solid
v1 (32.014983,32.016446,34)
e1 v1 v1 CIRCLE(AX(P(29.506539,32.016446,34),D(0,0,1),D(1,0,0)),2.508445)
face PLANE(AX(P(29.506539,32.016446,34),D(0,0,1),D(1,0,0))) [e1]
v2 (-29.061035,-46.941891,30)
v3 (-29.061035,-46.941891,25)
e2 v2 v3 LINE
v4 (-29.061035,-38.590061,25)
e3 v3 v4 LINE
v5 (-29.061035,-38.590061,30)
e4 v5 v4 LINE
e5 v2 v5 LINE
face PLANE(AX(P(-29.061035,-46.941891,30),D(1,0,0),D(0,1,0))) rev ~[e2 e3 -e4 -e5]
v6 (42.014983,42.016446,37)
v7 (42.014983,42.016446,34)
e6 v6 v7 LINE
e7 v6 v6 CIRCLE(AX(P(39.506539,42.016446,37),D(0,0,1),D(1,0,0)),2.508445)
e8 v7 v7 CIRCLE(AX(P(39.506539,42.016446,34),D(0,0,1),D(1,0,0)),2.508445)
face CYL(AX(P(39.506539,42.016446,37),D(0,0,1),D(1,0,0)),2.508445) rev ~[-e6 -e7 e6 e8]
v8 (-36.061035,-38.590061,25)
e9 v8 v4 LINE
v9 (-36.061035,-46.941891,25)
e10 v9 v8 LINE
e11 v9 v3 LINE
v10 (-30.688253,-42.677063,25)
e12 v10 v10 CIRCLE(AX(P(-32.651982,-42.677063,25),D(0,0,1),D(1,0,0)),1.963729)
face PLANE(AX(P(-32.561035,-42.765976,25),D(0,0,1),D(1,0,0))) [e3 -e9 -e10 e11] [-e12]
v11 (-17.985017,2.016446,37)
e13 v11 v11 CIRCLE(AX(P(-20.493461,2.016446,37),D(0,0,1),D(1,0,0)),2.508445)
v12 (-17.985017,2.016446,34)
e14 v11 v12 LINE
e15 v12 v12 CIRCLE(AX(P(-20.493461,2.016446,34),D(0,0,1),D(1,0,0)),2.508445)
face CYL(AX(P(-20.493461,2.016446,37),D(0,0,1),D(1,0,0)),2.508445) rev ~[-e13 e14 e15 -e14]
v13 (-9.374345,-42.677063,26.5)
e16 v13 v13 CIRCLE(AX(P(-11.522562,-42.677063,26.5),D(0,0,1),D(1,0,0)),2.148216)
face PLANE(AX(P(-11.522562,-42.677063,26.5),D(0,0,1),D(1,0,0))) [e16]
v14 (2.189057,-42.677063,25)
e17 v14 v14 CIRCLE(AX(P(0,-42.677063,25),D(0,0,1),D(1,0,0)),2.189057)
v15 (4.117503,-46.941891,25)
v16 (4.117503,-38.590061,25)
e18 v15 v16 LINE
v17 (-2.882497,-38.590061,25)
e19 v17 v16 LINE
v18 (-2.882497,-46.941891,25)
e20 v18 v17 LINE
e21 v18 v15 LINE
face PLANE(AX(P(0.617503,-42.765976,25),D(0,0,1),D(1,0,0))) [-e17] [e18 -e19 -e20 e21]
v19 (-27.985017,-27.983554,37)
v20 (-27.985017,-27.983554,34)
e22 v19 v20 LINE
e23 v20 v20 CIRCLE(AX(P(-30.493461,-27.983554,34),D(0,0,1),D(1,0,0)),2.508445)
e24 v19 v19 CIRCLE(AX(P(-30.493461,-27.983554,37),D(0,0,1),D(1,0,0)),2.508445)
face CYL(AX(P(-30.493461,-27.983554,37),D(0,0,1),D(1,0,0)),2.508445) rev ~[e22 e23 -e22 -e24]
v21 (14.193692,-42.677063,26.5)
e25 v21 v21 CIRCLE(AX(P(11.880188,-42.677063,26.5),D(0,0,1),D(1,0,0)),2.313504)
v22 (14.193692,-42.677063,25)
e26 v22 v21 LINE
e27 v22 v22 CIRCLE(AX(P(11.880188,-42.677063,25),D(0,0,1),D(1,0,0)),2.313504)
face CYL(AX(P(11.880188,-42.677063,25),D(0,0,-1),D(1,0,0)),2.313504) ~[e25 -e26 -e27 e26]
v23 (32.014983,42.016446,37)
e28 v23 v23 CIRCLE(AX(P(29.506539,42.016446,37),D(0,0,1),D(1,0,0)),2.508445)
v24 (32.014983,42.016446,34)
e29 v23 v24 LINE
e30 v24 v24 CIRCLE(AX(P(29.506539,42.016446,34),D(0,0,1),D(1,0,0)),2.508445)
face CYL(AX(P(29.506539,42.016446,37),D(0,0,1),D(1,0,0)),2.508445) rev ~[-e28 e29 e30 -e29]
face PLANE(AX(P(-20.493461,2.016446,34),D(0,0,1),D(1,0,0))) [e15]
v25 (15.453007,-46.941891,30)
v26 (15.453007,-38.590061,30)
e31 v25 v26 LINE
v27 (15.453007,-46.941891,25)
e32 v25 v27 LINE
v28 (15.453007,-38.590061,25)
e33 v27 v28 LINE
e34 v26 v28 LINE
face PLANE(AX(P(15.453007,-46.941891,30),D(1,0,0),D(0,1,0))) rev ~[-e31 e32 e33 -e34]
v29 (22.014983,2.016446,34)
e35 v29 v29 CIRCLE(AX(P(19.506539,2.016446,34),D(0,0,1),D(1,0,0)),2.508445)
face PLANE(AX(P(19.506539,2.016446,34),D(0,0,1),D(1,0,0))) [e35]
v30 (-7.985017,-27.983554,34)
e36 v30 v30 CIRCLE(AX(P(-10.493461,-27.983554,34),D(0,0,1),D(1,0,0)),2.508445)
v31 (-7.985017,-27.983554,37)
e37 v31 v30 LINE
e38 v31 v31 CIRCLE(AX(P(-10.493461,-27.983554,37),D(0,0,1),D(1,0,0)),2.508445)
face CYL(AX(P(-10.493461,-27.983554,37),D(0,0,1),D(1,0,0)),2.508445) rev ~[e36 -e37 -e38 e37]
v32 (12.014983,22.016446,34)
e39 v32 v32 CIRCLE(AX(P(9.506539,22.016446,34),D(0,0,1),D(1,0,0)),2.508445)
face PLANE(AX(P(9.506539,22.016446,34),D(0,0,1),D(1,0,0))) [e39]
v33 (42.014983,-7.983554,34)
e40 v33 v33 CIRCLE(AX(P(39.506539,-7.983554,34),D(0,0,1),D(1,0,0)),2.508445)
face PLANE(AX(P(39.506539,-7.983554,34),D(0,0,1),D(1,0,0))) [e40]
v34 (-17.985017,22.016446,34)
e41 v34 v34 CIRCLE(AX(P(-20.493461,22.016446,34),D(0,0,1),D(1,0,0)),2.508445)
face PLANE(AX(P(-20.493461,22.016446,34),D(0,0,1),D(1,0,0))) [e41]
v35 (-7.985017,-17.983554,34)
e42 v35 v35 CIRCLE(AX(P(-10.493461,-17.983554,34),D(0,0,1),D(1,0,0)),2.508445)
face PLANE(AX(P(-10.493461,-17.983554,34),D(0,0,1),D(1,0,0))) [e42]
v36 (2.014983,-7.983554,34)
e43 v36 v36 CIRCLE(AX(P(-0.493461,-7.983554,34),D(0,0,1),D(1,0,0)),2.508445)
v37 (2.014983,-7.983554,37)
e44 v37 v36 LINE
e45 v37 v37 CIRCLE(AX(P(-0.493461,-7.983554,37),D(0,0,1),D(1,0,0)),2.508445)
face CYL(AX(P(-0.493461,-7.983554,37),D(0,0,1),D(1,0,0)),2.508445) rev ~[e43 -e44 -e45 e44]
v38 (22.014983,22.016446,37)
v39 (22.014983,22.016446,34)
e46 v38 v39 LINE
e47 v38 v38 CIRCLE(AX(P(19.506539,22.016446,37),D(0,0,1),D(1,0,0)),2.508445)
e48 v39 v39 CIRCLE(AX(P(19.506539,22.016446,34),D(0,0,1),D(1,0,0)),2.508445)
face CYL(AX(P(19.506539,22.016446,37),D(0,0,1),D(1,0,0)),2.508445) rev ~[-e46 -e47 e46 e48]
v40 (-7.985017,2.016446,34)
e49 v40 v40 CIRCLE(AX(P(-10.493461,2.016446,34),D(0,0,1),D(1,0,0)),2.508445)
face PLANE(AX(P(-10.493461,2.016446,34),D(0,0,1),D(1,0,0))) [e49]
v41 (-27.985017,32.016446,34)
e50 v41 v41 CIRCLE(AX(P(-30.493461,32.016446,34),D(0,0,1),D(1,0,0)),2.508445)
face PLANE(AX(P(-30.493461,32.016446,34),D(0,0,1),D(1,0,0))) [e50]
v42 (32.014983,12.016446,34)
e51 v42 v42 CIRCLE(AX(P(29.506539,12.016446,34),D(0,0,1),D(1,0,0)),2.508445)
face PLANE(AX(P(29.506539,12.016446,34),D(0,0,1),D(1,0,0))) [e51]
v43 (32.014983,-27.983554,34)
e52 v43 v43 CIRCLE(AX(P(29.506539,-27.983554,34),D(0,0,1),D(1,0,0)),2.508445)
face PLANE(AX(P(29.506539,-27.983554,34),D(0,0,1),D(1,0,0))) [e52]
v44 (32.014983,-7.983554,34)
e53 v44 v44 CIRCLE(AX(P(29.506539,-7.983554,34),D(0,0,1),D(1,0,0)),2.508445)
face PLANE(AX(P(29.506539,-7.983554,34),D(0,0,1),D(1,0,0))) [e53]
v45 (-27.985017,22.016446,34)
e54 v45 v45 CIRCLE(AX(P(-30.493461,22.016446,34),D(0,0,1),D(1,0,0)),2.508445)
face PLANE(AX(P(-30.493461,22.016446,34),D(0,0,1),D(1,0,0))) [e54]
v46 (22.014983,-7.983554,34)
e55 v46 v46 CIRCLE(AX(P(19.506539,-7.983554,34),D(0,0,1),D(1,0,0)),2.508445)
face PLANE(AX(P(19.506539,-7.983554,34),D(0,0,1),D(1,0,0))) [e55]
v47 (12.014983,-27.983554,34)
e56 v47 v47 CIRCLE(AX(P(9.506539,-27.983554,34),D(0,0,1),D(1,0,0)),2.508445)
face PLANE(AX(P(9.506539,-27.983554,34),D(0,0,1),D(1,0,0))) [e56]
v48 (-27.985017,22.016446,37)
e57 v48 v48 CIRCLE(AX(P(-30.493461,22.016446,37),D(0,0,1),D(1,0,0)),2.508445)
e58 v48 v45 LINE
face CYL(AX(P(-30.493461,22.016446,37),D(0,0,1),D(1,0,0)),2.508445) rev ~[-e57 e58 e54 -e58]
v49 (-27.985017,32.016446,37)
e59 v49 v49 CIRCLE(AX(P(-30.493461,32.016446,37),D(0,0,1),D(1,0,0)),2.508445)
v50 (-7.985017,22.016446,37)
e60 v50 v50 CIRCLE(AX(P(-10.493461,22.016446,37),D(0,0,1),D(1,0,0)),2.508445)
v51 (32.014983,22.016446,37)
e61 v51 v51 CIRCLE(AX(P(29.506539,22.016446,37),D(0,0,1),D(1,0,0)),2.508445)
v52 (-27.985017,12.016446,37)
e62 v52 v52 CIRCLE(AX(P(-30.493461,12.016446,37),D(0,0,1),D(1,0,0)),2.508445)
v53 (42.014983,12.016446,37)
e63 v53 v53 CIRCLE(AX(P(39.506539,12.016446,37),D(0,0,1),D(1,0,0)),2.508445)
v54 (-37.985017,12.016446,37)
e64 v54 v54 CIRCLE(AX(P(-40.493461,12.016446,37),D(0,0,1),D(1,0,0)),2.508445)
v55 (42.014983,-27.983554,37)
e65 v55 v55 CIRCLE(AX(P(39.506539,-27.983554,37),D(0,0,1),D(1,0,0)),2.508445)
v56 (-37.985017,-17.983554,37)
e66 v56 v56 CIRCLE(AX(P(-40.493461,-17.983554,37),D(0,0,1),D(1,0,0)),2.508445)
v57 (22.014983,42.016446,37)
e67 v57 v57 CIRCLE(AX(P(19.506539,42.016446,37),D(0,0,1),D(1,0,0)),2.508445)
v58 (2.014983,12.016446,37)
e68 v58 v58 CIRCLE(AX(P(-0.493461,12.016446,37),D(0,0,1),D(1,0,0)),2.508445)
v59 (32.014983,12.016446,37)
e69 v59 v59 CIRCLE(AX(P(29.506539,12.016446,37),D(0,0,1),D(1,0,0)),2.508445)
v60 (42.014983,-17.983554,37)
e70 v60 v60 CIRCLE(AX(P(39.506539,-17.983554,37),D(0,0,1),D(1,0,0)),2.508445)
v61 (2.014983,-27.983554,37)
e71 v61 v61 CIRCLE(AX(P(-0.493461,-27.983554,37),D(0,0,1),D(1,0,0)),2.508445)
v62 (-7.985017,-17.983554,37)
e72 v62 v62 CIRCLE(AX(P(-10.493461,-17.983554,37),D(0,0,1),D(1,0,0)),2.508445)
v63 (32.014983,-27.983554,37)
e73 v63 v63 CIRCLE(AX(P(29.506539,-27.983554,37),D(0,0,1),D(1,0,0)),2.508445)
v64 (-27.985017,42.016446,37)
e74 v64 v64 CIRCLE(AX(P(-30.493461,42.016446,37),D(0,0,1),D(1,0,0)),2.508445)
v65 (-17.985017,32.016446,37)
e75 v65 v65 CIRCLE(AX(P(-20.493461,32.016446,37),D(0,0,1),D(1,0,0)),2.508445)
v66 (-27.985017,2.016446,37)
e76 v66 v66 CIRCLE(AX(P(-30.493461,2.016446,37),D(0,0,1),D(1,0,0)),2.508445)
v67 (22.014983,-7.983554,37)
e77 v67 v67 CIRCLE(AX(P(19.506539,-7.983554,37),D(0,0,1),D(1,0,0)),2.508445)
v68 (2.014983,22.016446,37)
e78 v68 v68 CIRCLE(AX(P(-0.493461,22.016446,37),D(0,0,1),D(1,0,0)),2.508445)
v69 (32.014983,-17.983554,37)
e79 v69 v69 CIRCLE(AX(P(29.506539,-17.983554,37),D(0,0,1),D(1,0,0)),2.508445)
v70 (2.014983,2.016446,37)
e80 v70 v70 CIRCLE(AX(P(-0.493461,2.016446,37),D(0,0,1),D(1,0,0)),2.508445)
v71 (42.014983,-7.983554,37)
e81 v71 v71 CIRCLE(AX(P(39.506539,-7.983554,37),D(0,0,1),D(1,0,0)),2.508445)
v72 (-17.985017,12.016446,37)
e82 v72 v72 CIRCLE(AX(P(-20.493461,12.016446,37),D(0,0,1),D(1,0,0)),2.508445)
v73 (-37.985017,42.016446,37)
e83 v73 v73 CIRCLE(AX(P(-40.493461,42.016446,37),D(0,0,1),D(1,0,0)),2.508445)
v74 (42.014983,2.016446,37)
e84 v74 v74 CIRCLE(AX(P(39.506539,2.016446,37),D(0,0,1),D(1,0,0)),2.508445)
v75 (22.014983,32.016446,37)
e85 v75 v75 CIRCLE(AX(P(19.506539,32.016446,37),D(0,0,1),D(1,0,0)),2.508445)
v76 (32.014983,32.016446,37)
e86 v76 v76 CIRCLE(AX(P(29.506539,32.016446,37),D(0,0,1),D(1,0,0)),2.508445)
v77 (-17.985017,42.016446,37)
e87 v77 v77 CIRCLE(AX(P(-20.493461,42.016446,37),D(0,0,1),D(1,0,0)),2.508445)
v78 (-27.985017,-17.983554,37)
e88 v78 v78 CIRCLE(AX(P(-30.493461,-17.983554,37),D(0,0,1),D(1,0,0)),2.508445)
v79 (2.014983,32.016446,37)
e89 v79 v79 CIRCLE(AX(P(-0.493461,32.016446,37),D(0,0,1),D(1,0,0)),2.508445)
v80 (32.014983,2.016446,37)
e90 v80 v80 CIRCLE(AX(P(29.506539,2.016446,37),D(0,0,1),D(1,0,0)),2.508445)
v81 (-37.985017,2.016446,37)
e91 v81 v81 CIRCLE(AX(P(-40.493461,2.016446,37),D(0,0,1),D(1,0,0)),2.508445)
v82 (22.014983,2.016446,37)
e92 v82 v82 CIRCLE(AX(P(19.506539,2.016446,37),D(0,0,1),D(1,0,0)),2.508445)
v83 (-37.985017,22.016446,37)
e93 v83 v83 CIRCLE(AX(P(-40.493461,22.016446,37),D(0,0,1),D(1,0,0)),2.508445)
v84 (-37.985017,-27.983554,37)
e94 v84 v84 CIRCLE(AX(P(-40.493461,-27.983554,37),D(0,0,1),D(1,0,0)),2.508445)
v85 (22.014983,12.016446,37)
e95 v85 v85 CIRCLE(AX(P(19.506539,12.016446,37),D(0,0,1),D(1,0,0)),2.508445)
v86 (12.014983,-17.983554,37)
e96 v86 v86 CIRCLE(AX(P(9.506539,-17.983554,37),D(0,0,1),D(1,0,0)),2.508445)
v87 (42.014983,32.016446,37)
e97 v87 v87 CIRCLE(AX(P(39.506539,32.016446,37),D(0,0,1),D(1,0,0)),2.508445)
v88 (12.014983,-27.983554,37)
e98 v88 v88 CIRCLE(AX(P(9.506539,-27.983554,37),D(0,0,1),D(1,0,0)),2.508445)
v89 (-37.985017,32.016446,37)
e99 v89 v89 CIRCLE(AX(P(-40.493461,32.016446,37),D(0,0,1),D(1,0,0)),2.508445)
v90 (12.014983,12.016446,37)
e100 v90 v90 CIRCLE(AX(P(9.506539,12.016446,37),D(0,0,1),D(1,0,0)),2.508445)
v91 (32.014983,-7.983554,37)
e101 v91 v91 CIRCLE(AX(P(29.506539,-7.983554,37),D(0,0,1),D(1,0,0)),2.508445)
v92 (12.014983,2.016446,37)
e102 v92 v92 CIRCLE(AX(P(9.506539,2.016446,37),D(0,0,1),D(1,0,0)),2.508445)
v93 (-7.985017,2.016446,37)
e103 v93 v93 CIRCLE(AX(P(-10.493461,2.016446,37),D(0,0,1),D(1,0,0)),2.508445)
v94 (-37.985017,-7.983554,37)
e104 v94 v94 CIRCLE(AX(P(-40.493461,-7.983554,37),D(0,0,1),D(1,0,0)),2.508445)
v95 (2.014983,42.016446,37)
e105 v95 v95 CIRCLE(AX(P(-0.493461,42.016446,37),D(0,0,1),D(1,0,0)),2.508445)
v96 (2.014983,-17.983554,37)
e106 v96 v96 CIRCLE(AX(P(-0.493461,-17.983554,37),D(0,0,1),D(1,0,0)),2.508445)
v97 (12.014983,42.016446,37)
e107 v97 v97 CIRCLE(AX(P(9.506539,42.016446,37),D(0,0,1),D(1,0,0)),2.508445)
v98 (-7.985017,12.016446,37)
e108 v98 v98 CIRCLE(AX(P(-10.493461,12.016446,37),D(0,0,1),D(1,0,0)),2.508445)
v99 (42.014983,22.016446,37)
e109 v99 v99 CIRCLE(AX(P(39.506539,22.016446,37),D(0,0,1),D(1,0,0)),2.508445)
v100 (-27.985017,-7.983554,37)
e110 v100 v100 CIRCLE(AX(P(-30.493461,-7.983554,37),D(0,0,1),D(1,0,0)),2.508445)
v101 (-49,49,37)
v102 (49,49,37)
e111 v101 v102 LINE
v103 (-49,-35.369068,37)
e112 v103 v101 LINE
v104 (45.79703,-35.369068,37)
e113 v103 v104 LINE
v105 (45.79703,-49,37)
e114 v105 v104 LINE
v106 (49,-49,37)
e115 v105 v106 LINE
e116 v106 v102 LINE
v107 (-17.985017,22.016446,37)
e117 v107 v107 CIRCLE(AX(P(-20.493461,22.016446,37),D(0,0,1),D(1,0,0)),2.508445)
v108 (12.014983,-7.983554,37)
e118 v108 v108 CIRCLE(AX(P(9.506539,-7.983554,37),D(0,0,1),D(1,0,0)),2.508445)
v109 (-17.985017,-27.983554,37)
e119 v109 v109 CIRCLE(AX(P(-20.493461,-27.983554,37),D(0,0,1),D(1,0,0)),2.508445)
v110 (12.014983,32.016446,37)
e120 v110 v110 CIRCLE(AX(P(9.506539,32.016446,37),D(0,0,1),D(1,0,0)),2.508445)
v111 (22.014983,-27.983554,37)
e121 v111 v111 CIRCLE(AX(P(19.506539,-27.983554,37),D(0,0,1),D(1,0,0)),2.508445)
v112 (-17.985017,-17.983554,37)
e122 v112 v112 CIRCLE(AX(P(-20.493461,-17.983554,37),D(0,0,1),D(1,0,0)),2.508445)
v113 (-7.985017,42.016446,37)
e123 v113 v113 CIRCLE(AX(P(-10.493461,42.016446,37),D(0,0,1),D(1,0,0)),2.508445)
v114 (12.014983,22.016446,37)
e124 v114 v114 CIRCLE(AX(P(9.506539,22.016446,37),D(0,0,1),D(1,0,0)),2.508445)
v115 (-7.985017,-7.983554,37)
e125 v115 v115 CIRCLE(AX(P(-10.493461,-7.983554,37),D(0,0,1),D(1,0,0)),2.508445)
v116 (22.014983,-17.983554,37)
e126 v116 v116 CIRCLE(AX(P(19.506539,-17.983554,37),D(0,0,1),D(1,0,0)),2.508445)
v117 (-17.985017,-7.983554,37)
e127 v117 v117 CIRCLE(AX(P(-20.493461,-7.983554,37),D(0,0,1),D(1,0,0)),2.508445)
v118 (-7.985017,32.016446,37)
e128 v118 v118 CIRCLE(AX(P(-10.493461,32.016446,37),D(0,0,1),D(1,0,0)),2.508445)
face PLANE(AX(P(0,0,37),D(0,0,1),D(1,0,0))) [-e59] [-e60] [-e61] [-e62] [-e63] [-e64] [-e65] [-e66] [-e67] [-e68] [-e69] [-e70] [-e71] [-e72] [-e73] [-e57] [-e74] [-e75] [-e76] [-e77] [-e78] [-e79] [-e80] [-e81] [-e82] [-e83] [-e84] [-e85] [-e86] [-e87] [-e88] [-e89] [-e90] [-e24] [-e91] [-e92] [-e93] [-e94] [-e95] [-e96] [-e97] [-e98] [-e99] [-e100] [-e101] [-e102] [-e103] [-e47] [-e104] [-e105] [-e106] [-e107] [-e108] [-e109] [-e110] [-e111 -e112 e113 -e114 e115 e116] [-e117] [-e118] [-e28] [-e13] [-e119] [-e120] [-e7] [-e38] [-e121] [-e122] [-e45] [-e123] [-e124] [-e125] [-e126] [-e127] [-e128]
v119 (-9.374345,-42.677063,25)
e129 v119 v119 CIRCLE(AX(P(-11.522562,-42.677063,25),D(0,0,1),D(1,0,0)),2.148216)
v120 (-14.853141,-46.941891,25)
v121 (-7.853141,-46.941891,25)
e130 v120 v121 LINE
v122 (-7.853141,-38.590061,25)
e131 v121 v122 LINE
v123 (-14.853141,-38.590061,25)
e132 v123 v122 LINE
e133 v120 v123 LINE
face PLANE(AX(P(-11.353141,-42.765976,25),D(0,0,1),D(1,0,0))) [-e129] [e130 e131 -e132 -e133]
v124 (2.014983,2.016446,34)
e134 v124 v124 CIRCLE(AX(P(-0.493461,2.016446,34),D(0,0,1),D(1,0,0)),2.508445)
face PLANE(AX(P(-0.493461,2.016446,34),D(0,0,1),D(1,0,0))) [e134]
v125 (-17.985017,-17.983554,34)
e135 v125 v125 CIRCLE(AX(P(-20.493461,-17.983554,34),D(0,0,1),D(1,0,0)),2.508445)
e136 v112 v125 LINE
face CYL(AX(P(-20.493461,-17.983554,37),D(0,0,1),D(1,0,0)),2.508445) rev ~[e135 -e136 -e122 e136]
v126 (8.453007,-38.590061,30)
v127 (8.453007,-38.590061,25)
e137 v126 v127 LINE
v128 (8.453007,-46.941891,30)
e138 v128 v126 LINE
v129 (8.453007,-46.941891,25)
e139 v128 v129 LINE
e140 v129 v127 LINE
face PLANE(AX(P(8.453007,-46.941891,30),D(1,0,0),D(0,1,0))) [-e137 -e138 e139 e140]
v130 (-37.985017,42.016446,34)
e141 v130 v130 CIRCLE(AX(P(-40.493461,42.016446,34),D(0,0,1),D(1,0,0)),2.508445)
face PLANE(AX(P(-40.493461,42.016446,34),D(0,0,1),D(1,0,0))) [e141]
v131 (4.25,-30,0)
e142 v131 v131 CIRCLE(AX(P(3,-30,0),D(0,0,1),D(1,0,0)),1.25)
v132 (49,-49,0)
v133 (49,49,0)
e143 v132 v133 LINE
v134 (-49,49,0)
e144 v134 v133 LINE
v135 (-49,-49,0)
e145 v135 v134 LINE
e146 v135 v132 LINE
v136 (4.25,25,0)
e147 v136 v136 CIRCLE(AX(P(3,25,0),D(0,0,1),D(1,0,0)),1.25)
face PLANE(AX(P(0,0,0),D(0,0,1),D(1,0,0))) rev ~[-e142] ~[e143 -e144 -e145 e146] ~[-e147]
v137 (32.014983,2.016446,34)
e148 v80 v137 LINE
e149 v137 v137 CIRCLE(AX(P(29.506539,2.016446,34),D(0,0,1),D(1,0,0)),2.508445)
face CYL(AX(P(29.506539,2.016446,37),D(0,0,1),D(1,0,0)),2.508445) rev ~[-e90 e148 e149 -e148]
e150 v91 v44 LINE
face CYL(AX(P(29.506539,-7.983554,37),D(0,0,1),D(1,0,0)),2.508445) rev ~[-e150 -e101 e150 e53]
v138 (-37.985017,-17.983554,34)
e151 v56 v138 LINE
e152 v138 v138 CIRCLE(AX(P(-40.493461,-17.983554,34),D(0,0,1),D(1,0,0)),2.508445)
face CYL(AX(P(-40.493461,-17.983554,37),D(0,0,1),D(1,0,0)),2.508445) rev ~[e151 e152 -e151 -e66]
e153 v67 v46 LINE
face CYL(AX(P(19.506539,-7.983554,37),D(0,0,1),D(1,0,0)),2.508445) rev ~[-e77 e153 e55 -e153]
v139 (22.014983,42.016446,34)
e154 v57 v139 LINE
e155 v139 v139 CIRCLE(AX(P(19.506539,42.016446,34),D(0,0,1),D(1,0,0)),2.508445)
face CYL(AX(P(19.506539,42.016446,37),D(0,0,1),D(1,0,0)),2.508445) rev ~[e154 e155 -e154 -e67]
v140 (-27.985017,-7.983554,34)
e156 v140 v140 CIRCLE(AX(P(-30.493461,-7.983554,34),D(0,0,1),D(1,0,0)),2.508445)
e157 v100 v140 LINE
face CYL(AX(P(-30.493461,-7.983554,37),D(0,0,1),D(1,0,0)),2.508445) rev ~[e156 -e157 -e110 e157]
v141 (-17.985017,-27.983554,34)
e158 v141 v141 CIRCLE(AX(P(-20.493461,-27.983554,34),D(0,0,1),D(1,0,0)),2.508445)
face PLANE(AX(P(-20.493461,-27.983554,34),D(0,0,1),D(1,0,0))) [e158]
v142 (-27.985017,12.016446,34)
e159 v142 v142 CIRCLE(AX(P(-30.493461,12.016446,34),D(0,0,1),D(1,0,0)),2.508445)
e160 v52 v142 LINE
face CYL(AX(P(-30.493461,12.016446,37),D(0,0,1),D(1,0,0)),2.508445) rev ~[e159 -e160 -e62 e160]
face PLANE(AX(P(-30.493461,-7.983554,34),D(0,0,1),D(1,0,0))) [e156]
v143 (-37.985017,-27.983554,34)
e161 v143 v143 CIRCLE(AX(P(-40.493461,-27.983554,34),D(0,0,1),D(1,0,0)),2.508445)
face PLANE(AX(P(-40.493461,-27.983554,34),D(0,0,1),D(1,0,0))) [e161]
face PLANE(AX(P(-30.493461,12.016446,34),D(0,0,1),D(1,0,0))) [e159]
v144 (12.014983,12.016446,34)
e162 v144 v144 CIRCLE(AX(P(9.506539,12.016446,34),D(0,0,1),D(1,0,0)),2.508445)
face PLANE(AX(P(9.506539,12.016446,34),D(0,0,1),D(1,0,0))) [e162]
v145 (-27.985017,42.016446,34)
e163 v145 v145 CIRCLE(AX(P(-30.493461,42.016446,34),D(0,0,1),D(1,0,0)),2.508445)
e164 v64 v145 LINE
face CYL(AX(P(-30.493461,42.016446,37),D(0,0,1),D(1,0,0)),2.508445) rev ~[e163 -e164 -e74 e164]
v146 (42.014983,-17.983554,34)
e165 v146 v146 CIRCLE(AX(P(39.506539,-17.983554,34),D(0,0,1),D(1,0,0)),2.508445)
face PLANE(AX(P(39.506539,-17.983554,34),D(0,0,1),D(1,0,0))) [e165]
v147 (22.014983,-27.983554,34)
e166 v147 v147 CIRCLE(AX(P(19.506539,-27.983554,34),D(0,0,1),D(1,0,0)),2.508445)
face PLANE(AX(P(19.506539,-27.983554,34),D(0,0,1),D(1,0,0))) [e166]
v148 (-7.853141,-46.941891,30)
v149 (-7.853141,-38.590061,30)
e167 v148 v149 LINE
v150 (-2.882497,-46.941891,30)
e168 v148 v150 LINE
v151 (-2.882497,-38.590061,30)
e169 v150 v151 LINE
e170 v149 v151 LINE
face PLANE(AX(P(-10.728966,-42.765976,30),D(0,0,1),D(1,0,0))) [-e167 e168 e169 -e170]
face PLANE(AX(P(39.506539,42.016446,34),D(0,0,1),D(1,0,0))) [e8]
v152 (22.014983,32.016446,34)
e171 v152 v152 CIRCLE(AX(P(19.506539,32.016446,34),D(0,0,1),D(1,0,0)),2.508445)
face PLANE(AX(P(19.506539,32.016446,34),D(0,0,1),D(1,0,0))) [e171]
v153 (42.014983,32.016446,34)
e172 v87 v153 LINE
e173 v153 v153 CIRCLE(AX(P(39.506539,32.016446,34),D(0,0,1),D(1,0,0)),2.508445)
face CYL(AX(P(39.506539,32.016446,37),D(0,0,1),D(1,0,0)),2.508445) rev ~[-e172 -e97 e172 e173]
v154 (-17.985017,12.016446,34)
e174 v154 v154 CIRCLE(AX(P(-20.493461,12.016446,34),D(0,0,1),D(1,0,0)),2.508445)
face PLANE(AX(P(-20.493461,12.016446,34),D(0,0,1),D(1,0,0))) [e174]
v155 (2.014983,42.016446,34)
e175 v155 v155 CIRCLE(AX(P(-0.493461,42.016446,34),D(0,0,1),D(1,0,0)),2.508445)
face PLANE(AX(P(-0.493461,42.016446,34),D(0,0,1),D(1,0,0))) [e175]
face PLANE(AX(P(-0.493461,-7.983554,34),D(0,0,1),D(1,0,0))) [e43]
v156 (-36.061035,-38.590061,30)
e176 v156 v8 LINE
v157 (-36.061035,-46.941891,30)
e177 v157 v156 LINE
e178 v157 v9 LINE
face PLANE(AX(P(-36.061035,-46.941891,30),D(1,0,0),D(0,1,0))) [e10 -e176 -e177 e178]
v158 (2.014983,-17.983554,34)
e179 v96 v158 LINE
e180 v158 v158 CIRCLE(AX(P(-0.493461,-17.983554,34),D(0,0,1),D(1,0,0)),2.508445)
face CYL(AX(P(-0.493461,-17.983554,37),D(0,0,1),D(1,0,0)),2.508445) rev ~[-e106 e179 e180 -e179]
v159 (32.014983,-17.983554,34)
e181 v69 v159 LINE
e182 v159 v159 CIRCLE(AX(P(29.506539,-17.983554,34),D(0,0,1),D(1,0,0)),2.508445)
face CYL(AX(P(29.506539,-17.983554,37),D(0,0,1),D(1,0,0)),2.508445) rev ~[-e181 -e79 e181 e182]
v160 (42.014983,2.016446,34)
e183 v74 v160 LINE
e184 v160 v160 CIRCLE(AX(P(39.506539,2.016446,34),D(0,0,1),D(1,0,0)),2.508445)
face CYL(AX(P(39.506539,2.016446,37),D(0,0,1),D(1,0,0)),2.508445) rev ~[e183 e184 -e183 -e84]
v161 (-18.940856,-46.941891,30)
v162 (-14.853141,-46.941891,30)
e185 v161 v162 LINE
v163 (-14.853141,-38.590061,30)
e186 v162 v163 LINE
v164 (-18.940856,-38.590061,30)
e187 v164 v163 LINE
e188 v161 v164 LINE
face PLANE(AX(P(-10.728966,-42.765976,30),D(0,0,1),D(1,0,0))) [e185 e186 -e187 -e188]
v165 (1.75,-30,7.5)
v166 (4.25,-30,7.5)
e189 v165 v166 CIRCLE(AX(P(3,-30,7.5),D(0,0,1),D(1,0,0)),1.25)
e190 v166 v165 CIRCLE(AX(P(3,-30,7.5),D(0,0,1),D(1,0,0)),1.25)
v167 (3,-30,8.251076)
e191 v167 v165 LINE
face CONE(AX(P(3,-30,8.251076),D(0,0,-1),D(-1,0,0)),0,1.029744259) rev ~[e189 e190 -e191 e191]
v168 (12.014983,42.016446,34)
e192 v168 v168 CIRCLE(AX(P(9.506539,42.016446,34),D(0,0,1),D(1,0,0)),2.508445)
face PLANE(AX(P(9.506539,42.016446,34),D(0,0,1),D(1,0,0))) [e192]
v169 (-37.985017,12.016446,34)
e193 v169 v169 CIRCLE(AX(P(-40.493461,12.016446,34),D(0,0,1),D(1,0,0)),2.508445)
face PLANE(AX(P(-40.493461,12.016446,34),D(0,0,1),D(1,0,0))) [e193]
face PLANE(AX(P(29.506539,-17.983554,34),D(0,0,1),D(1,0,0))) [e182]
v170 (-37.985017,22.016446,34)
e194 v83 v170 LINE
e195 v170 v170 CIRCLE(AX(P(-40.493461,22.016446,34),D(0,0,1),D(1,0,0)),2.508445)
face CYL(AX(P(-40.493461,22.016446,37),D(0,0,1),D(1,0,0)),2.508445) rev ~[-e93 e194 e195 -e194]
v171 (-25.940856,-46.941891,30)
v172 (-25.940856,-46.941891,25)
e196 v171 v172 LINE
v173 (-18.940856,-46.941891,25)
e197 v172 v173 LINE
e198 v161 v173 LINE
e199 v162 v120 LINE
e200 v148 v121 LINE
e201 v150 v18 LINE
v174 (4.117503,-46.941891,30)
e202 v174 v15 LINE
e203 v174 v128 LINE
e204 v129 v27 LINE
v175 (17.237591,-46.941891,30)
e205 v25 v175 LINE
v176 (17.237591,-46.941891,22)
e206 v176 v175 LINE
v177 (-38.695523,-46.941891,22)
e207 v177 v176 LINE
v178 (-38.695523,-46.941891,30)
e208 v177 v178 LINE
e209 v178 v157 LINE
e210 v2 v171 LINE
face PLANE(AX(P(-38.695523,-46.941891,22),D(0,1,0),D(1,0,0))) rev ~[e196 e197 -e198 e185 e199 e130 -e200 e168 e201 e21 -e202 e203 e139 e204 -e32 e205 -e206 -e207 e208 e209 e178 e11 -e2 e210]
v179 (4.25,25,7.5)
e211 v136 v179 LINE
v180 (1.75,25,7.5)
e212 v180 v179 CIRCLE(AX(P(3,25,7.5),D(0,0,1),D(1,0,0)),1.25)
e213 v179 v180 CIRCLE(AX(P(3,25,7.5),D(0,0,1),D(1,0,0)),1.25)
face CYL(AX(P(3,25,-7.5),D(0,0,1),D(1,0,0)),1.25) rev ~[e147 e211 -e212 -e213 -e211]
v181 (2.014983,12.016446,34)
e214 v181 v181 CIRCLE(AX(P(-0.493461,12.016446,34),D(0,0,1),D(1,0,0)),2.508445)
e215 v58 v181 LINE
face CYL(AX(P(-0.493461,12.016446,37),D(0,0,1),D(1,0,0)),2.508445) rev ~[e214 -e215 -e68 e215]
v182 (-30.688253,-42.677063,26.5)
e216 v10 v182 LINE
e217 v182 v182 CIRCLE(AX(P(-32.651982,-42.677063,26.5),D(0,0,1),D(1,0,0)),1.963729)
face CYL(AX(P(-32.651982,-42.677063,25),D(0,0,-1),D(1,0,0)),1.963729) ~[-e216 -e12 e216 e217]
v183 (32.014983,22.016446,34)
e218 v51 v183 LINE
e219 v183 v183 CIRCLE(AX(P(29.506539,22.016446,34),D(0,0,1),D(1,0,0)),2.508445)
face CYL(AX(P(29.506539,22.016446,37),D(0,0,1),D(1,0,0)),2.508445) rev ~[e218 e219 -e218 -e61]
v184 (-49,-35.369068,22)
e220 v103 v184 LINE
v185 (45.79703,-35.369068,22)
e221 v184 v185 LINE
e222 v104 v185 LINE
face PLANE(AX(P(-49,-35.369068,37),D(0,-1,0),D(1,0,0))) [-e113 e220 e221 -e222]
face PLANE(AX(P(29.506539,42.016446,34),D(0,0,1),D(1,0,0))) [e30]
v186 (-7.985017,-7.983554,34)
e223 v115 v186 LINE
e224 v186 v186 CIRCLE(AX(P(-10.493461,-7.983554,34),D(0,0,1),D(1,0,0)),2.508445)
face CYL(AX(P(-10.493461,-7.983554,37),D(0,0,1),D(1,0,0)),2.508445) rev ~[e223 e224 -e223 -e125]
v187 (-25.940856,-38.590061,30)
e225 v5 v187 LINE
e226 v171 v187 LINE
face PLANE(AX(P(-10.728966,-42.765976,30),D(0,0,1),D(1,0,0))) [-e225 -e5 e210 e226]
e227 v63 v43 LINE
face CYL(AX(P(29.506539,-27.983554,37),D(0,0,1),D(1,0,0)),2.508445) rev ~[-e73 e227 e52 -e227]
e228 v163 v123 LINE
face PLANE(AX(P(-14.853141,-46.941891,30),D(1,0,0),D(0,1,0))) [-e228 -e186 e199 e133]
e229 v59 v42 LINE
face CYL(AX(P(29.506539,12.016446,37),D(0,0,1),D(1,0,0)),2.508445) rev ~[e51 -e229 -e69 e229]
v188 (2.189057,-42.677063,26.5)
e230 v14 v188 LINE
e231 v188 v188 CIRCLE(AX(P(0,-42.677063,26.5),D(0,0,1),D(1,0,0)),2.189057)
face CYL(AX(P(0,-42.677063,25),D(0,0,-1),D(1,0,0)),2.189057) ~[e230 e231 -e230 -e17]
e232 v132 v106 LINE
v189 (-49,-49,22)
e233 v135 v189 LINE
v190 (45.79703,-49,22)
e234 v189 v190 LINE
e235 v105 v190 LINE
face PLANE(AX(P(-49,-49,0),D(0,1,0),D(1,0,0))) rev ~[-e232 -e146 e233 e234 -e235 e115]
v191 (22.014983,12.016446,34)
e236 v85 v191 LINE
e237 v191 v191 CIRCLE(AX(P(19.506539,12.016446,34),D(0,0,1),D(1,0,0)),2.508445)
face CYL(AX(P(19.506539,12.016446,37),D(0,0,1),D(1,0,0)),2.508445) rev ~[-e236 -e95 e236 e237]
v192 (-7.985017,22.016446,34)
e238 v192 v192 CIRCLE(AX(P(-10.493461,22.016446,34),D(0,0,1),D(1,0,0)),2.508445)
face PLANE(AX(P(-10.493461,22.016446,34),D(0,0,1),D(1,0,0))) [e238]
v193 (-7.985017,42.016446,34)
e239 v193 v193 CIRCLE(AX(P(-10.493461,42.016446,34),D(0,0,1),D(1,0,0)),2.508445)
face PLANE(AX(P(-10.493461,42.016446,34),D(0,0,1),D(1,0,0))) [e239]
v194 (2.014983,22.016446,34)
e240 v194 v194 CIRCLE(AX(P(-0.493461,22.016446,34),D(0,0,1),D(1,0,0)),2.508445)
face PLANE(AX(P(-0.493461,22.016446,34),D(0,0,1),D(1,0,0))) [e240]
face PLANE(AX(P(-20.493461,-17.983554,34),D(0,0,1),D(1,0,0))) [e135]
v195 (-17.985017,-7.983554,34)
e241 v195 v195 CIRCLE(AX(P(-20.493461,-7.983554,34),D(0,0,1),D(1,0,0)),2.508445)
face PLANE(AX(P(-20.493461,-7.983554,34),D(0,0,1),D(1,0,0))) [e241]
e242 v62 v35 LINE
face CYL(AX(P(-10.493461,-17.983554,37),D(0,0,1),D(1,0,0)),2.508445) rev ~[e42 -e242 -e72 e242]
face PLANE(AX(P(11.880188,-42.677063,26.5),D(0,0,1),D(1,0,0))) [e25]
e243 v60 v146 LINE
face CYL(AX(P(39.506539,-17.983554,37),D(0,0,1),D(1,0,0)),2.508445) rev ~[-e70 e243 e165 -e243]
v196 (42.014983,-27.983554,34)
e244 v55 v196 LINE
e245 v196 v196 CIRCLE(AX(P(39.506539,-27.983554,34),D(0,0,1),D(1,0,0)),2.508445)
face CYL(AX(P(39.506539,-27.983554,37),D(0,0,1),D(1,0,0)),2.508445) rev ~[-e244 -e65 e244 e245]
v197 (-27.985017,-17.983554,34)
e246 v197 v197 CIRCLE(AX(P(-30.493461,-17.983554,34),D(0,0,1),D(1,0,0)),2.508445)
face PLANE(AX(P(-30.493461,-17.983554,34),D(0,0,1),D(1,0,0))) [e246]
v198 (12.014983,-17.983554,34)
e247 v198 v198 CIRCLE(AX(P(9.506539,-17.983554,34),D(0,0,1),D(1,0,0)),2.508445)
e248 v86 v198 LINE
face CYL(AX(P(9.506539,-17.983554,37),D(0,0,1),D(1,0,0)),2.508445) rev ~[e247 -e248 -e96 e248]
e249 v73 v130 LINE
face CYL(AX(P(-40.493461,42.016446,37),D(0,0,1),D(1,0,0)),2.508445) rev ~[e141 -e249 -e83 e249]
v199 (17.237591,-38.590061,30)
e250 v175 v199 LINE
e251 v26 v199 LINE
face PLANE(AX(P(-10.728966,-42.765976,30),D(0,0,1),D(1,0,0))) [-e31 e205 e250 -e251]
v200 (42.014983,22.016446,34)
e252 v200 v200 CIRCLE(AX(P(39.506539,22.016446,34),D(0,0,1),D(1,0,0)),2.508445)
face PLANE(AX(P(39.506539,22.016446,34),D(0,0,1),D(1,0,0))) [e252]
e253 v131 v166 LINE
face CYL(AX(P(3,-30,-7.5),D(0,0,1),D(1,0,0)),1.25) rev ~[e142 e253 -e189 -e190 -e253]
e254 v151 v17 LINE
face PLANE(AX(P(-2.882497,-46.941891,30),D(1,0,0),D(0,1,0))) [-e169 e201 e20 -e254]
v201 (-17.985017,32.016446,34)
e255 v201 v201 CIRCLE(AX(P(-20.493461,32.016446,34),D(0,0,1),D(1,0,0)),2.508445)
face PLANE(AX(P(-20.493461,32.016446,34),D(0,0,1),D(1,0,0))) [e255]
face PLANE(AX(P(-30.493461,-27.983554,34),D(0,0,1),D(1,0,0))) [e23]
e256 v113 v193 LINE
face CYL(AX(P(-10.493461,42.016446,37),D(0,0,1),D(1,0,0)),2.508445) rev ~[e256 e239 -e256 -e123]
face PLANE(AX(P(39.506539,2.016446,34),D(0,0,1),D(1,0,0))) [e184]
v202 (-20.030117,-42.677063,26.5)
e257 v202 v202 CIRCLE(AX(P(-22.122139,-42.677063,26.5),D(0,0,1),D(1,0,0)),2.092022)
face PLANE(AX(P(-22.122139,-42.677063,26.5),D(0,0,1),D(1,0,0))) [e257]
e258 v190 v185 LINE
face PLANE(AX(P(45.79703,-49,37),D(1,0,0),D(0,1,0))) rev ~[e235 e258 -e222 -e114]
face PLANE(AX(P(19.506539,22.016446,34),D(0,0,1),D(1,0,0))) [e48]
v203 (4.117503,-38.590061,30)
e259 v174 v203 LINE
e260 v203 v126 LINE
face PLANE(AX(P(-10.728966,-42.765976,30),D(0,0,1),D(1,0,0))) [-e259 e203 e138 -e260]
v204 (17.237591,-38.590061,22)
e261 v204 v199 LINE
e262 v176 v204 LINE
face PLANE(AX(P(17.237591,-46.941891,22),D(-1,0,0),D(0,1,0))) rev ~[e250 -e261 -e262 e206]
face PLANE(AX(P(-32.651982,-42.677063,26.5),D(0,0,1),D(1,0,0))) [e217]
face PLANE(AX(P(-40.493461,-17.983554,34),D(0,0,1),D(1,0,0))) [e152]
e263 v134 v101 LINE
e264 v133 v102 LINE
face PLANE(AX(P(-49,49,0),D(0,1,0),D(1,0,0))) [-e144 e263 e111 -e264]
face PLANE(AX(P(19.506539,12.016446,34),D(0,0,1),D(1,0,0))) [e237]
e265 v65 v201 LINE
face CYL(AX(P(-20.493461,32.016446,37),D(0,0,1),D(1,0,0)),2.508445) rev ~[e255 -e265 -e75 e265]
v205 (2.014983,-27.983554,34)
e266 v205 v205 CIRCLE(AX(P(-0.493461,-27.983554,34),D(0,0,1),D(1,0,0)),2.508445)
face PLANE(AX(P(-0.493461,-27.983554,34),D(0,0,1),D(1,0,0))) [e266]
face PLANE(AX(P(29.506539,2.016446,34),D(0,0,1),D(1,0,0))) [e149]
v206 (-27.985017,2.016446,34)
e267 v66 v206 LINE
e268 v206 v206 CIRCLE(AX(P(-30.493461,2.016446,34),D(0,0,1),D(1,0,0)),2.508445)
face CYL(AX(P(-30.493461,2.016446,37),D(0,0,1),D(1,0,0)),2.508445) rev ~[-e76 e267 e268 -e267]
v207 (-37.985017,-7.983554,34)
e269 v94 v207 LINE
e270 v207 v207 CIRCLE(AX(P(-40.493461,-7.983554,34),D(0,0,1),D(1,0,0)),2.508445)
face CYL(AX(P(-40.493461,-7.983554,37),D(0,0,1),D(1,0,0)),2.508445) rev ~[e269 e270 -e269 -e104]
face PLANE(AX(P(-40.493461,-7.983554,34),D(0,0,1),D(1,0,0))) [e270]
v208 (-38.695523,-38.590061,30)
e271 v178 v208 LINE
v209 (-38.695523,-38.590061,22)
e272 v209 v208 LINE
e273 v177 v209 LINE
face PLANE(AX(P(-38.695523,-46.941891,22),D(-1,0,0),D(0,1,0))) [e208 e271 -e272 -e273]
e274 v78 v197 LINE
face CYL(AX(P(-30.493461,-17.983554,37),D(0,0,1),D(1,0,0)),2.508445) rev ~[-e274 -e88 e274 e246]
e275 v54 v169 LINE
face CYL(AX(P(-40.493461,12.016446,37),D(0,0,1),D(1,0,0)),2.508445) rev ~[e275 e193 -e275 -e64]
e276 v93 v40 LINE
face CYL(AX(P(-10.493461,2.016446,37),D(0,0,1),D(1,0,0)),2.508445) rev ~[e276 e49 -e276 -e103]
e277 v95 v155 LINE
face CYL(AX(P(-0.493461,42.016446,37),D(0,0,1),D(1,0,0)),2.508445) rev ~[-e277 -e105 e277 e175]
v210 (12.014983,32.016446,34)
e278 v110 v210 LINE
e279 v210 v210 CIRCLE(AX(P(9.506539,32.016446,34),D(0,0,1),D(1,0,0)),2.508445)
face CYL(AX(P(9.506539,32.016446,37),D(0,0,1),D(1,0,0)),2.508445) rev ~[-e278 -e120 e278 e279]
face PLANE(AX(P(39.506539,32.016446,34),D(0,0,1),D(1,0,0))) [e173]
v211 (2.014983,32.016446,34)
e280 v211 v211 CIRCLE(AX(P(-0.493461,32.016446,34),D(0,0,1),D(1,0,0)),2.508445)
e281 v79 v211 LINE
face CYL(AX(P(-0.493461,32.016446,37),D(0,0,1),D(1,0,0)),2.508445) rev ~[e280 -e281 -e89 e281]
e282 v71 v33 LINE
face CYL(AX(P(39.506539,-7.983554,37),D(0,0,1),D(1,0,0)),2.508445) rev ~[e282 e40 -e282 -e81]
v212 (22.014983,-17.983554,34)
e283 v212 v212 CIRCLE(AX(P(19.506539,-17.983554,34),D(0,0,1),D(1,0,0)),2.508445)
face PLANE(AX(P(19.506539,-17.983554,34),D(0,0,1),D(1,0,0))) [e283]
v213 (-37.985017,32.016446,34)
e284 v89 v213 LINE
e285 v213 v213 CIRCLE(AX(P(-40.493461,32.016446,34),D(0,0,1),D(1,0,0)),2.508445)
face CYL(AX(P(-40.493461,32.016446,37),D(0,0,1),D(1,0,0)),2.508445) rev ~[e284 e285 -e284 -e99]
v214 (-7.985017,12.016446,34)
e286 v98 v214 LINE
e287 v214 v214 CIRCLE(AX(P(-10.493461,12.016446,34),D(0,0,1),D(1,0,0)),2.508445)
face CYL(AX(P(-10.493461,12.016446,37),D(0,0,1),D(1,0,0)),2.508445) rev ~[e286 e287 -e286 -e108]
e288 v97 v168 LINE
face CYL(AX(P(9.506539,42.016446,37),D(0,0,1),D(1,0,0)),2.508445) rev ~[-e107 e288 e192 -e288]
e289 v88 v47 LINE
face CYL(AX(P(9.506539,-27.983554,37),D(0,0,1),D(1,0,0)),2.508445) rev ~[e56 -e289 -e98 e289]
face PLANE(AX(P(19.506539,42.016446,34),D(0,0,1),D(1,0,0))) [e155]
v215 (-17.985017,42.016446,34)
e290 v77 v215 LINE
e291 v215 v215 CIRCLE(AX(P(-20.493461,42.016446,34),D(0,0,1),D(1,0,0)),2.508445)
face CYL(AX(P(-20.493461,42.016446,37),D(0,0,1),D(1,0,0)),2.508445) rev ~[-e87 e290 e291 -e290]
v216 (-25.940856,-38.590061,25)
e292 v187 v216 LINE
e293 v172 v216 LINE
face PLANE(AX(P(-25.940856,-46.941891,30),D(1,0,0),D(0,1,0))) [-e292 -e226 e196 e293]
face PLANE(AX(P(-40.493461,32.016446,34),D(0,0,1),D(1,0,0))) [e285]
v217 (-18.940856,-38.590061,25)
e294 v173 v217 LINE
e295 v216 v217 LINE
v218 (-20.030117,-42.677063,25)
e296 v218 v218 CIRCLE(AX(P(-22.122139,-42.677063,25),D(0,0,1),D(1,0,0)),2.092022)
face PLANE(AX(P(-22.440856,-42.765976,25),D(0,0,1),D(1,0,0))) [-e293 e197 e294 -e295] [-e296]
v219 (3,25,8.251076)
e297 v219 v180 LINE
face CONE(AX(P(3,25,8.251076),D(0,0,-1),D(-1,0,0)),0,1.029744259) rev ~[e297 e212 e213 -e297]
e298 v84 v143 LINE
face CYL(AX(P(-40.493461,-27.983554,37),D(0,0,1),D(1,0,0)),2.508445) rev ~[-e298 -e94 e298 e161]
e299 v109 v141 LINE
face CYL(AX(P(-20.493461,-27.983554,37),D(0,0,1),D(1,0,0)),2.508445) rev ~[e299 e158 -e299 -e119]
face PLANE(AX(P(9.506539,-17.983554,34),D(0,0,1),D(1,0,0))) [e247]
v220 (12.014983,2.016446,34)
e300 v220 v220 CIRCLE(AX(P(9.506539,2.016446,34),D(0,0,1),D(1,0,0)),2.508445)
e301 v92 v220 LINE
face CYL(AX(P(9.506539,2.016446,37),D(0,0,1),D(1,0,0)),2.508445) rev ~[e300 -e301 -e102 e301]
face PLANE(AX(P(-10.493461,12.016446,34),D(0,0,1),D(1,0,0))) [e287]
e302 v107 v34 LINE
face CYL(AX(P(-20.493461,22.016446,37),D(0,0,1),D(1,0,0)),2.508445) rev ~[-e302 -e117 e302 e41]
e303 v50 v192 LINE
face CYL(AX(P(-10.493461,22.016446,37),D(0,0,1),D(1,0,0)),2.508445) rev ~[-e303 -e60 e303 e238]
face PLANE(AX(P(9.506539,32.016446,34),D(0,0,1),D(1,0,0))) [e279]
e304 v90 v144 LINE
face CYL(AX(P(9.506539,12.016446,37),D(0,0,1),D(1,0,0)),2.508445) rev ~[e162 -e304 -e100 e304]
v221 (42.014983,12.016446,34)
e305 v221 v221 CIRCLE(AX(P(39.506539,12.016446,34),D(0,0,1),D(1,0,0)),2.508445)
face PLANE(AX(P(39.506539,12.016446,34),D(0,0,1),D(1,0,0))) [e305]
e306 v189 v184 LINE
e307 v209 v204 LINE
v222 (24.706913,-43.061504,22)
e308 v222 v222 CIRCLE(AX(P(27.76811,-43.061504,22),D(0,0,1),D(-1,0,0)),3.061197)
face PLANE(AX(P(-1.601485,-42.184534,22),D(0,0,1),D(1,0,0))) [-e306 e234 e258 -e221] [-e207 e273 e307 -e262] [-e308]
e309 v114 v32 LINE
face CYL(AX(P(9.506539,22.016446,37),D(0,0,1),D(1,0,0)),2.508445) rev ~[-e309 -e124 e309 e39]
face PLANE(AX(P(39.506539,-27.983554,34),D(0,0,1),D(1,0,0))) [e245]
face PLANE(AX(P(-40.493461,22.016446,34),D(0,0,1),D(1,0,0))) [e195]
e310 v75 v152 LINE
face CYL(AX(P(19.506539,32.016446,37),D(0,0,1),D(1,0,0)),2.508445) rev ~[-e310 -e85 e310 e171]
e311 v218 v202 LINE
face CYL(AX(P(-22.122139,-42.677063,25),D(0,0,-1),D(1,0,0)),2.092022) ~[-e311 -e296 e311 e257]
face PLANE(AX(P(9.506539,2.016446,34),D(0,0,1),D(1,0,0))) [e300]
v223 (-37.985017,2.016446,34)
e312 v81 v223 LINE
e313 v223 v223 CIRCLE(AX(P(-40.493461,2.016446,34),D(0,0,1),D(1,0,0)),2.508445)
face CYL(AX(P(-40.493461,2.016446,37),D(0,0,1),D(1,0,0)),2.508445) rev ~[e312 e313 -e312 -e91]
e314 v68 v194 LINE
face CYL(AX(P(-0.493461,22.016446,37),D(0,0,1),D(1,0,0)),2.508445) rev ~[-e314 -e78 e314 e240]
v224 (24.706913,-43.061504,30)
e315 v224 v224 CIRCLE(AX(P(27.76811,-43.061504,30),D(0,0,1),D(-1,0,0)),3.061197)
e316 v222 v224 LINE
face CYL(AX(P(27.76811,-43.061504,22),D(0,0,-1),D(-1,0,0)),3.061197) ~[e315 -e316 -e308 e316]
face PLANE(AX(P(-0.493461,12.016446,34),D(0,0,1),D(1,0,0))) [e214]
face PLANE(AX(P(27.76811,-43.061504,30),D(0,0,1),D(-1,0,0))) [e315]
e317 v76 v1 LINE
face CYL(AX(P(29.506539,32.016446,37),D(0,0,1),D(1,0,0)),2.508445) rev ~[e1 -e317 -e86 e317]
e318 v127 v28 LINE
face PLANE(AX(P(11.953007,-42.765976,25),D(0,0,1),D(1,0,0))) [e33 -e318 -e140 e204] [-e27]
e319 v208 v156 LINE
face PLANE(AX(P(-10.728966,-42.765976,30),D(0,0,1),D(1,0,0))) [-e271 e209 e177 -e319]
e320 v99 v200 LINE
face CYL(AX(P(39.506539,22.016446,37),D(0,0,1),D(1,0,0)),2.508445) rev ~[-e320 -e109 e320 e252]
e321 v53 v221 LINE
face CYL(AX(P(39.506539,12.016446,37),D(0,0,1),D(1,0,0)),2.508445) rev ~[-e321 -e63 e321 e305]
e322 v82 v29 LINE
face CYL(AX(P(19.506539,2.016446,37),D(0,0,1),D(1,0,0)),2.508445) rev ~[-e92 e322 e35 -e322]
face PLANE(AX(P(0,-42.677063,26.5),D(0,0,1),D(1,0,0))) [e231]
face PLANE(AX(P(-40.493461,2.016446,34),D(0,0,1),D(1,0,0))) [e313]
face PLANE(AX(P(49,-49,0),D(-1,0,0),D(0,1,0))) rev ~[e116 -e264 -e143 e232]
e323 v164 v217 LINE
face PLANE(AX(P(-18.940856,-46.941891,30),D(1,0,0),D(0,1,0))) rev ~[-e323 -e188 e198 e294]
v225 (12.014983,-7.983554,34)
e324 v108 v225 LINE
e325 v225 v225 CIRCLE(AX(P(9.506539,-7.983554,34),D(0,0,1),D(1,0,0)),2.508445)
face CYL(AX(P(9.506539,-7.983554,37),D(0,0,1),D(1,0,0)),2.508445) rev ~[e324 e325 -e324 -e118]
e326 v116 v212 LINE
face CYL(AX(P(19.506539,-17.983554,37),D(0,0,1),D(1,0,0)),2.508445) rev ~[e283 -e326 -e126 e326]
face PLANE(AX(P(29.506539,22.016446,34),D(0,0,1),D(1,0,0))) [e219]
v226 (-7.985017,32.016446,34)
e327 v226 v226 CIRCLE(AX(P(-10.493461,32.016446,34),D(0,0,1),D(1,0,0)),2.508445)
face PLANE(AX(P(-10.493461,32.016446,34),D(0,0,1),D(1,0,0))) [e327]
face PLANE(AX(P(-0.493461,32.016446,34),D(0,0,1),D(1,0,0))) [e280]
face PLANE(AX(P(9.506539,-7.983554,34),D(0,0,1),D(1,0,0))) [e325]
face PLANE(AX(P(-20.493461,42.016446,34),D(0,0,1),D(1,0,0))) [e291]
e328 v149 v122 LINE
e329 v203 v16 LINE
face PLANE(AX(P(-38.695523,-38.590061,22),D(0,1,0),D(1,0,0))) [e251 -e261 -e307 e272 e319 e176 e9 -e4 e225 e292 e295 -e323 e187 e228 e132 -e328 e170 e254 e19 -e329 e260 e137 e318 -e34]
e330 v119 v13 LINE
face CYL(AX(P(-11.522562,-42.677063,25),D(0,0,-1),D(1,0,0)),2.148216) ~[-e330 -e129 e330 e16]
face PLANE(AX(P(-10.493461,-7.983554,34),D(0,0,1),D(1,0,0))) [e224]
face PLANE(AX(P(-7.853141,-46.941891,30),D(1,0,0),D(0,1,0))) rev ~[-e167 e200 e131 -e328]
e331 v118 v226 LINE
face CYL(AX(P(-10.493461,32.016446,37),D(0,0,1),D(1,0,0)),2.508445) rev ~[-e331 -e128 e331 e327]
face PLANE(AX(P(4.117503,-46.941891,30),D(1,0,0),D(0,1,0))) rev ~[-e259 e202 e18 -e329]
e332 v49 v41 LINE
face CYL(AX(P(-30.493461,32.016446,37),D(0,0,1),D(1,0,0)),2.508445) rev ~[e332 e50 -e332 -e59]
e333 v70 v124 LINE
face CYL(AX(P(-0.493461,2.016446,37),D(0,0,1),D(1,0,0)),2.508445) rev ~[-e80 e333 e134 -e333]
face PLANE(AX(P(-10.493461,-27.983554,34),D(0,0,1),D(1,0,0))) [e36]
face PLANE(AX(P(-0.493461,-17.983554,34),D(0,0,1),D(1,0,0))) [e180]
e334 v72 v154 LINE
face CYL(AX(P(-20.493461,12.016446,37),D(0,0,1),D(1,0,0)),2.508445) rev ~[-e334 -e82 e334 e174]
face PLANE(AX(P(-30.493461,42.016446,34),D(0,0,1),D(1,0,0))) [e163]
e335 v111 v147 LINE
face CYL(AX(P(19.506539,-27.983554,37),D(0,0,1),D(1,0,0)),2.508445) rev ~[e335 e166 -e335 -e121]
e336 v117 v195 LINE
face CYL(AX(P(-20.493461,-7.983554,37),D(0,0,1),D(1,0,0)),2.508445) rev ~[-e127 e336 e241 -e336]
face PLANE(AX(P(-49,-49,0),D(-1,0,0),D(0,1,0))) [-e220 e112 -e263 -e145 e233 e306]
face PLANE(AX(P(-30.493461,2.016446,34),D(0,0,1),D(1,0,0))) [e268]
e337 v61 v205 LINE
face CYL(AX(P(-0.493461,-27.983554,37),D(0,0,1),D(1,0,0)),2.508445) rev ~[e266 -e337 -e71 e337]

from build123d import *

# Parameters (mm, degrees)
SKETCH_1_W                  = 98
SKETCH_1_H                  = 98
EXTRUDE_1_DEPTH             = 37
SKETCH_2_W                  = 94.797029907
SKETCH_2_H                  = 13.630932302
CUT_EXTRUDE_1_DEPTH         = 15
SKETCH_3_R                  = 3.061197389
SKETCH_3_W                  = 55.933114495
SKETCH_3_H                  = 8.351830186
EXTRUDE_2_DEPTH             = 8
SKETCH_4_W                  = 7
SKETCH_4_H                  = 8.351830186
CUT_EXTRUDE_2_DEPTH         = 5
SKETCH_5_R                  = 1.963728914
SKETCH_5_R_2                = 2.092021752
SKETCH_5_R_3                = 2.148216497
SKETCH_5_R_4                = 2.189056762
SKETCH_5_R_5                = 2.313503663
EXTRUDE_3_DEPTH             = 1.5
M3X0_5_1_D                  = 2.5
M3X0_5_1_DEPTH              = 7.5
M3X0_5_1_TIP                = 0.751075774
SKETCH_8_R                  = 2.508444518
CUT_EXTRUDE_3_DEPTH         = 3
PATTERN_LINEAR_1_COUNT      = 9
PATTERN_LINEAR_1_PITCH      = 10
PATTERN_LINEAR_1_COUNT_DIR2 = 8
PATTERN_LINEAR_1_PITCH_DIR2 = 10


with BuildPart() as part:
    # 草图1 → 凸台-拉伸1 (new body)
    with BuildSketch(Plane.XY):
        Rectangle(SKETCH_1_W, SKETCH_1_H)
    extrude(amount=EXTRUDE_1_DEPTH)

    # 草图2 → 切除-拉伸1 (cut)
    with BuildSketch(Plane.XY.offset(37)):
        with Locations((-1.601485046, -42.184533849)):
            Rectangle(SKETCH_2_W, SKETCH_2_H)
    extrude(amount=-CUT_EXTRUDE_1_DEPTH, mode=Mode.SUBTRACT)

    # 草图3 → 凸台-拉伸2 (add)
    with BuildSketch(Plane.XY.offset(22)):
        with Locations(Location((27.768110373, -43.061503969, 0), (0, 0, 180))):
            Circle(SKETCH_3_R)
        with Locations((-10.728965893, -42.765976058)):
            Rectangle(SKETCH_3_W, SKETCH_3_H)
    extrude(amount=EXTRUDE_2_DEPTH)

    # 草图4 → 切除-拉伸2 (cut)
    with BuildSketch(Plane.XY.offset(30)):
        with Locations((-32.561035158, -42.765976058)):
            Rectangle(SKETCH_4_W, SKETCH_4_H)
        with Locations((-22.440856077, -42.765976058)):
            Rectangle(SKETCH_4_W, SKETCH_4_H)
        with Locations((-11.353140791, -42.765976058)):
            Rectangle(SKETCH_4_W, SKETCH_4_H)
        with Locations((0.617502891, -42.765976058)):
            Rectangle(SKETCH_4_W, SKETCH_4_H)
        with Locations((11.953006531, -42.765976058)):
            Rectangle(SKETCH_4_W, SKETCH_4_H)
    extrude(amount=-CUT_EXTRUDE_2_DEPTH, mode=Mode.SUBTRACT)

    # 草图5 → 凸台-拉伸3 (add)
    with BuildSketch(Plane.XY.offset(25)):
        with Locations((-32.651981543, -42.677063305)):
            Circle(SKETCH_5_R)
        with Locations((-22.122138724, -42.677063305)):
            Circle(SKETCH_5_R_2)
        with Locations((-11.522561848, -42.677063305)):
            Circle(SKETCH_5_R_3)
        with Locations((0, -42.677063305)):
            Circle(SKETCH_5_R_4)
        with Locations((11.88018815, -42.677063305)):
            Circle(SKETCH_5_R_5)
    extrude(amount=EXTRUDE_3_DEPTH)

    # M3x0.5 螺纹孔1
    with Locations(Plane(origin=(0, 0, 0), x_dir=(-1, 0, 0), z_dir=(0, 0, -1))):
        with Locations((-3, 25), (-3, -30)):
            Hole(M3X0_5_1_D / 2, depth=M3X0_5_1_DEPTH)
            with Locations((0, 0, -(M3X0_5_1_DEPTH + M3X0_5_1_TIP / 2))):  # 118° drill point
                Cone(0, M3X0_5_1_D / 2, M3X0_5_1_TIP, mode=Mode.SUBTRACT)

    # 草图8 → 切除-拉伸3 (cut)
    with BuildSketch(Plane.XY.offset(37)):
        with Locations((-40.493461498, 42.016445669)):
            Circle(SKETCH_8_R)
    cut_extrude_3 = extrude(amount=-CUT_EXTRUDE_3_DEPTH, mode=Mode.SUBTRACT)

    # 阵列(线性)1: Cut-Extrude 3 9 × 8
    with Locations(*[(i * PATTERN_LINEAR_1_PITCH, -j * PATTERN_LINEAR_1_PITCH_DIR2, 0) for i in range(PATTERN_LINEAR_1_COUNT) for j in range(PATTERN_LINEAR_1_COUNT_DIR2) if (i, j) != (0, 0)]):
        add(cut_extrude_3, mode=Mode.SUBTRACT)


solid = part.part
